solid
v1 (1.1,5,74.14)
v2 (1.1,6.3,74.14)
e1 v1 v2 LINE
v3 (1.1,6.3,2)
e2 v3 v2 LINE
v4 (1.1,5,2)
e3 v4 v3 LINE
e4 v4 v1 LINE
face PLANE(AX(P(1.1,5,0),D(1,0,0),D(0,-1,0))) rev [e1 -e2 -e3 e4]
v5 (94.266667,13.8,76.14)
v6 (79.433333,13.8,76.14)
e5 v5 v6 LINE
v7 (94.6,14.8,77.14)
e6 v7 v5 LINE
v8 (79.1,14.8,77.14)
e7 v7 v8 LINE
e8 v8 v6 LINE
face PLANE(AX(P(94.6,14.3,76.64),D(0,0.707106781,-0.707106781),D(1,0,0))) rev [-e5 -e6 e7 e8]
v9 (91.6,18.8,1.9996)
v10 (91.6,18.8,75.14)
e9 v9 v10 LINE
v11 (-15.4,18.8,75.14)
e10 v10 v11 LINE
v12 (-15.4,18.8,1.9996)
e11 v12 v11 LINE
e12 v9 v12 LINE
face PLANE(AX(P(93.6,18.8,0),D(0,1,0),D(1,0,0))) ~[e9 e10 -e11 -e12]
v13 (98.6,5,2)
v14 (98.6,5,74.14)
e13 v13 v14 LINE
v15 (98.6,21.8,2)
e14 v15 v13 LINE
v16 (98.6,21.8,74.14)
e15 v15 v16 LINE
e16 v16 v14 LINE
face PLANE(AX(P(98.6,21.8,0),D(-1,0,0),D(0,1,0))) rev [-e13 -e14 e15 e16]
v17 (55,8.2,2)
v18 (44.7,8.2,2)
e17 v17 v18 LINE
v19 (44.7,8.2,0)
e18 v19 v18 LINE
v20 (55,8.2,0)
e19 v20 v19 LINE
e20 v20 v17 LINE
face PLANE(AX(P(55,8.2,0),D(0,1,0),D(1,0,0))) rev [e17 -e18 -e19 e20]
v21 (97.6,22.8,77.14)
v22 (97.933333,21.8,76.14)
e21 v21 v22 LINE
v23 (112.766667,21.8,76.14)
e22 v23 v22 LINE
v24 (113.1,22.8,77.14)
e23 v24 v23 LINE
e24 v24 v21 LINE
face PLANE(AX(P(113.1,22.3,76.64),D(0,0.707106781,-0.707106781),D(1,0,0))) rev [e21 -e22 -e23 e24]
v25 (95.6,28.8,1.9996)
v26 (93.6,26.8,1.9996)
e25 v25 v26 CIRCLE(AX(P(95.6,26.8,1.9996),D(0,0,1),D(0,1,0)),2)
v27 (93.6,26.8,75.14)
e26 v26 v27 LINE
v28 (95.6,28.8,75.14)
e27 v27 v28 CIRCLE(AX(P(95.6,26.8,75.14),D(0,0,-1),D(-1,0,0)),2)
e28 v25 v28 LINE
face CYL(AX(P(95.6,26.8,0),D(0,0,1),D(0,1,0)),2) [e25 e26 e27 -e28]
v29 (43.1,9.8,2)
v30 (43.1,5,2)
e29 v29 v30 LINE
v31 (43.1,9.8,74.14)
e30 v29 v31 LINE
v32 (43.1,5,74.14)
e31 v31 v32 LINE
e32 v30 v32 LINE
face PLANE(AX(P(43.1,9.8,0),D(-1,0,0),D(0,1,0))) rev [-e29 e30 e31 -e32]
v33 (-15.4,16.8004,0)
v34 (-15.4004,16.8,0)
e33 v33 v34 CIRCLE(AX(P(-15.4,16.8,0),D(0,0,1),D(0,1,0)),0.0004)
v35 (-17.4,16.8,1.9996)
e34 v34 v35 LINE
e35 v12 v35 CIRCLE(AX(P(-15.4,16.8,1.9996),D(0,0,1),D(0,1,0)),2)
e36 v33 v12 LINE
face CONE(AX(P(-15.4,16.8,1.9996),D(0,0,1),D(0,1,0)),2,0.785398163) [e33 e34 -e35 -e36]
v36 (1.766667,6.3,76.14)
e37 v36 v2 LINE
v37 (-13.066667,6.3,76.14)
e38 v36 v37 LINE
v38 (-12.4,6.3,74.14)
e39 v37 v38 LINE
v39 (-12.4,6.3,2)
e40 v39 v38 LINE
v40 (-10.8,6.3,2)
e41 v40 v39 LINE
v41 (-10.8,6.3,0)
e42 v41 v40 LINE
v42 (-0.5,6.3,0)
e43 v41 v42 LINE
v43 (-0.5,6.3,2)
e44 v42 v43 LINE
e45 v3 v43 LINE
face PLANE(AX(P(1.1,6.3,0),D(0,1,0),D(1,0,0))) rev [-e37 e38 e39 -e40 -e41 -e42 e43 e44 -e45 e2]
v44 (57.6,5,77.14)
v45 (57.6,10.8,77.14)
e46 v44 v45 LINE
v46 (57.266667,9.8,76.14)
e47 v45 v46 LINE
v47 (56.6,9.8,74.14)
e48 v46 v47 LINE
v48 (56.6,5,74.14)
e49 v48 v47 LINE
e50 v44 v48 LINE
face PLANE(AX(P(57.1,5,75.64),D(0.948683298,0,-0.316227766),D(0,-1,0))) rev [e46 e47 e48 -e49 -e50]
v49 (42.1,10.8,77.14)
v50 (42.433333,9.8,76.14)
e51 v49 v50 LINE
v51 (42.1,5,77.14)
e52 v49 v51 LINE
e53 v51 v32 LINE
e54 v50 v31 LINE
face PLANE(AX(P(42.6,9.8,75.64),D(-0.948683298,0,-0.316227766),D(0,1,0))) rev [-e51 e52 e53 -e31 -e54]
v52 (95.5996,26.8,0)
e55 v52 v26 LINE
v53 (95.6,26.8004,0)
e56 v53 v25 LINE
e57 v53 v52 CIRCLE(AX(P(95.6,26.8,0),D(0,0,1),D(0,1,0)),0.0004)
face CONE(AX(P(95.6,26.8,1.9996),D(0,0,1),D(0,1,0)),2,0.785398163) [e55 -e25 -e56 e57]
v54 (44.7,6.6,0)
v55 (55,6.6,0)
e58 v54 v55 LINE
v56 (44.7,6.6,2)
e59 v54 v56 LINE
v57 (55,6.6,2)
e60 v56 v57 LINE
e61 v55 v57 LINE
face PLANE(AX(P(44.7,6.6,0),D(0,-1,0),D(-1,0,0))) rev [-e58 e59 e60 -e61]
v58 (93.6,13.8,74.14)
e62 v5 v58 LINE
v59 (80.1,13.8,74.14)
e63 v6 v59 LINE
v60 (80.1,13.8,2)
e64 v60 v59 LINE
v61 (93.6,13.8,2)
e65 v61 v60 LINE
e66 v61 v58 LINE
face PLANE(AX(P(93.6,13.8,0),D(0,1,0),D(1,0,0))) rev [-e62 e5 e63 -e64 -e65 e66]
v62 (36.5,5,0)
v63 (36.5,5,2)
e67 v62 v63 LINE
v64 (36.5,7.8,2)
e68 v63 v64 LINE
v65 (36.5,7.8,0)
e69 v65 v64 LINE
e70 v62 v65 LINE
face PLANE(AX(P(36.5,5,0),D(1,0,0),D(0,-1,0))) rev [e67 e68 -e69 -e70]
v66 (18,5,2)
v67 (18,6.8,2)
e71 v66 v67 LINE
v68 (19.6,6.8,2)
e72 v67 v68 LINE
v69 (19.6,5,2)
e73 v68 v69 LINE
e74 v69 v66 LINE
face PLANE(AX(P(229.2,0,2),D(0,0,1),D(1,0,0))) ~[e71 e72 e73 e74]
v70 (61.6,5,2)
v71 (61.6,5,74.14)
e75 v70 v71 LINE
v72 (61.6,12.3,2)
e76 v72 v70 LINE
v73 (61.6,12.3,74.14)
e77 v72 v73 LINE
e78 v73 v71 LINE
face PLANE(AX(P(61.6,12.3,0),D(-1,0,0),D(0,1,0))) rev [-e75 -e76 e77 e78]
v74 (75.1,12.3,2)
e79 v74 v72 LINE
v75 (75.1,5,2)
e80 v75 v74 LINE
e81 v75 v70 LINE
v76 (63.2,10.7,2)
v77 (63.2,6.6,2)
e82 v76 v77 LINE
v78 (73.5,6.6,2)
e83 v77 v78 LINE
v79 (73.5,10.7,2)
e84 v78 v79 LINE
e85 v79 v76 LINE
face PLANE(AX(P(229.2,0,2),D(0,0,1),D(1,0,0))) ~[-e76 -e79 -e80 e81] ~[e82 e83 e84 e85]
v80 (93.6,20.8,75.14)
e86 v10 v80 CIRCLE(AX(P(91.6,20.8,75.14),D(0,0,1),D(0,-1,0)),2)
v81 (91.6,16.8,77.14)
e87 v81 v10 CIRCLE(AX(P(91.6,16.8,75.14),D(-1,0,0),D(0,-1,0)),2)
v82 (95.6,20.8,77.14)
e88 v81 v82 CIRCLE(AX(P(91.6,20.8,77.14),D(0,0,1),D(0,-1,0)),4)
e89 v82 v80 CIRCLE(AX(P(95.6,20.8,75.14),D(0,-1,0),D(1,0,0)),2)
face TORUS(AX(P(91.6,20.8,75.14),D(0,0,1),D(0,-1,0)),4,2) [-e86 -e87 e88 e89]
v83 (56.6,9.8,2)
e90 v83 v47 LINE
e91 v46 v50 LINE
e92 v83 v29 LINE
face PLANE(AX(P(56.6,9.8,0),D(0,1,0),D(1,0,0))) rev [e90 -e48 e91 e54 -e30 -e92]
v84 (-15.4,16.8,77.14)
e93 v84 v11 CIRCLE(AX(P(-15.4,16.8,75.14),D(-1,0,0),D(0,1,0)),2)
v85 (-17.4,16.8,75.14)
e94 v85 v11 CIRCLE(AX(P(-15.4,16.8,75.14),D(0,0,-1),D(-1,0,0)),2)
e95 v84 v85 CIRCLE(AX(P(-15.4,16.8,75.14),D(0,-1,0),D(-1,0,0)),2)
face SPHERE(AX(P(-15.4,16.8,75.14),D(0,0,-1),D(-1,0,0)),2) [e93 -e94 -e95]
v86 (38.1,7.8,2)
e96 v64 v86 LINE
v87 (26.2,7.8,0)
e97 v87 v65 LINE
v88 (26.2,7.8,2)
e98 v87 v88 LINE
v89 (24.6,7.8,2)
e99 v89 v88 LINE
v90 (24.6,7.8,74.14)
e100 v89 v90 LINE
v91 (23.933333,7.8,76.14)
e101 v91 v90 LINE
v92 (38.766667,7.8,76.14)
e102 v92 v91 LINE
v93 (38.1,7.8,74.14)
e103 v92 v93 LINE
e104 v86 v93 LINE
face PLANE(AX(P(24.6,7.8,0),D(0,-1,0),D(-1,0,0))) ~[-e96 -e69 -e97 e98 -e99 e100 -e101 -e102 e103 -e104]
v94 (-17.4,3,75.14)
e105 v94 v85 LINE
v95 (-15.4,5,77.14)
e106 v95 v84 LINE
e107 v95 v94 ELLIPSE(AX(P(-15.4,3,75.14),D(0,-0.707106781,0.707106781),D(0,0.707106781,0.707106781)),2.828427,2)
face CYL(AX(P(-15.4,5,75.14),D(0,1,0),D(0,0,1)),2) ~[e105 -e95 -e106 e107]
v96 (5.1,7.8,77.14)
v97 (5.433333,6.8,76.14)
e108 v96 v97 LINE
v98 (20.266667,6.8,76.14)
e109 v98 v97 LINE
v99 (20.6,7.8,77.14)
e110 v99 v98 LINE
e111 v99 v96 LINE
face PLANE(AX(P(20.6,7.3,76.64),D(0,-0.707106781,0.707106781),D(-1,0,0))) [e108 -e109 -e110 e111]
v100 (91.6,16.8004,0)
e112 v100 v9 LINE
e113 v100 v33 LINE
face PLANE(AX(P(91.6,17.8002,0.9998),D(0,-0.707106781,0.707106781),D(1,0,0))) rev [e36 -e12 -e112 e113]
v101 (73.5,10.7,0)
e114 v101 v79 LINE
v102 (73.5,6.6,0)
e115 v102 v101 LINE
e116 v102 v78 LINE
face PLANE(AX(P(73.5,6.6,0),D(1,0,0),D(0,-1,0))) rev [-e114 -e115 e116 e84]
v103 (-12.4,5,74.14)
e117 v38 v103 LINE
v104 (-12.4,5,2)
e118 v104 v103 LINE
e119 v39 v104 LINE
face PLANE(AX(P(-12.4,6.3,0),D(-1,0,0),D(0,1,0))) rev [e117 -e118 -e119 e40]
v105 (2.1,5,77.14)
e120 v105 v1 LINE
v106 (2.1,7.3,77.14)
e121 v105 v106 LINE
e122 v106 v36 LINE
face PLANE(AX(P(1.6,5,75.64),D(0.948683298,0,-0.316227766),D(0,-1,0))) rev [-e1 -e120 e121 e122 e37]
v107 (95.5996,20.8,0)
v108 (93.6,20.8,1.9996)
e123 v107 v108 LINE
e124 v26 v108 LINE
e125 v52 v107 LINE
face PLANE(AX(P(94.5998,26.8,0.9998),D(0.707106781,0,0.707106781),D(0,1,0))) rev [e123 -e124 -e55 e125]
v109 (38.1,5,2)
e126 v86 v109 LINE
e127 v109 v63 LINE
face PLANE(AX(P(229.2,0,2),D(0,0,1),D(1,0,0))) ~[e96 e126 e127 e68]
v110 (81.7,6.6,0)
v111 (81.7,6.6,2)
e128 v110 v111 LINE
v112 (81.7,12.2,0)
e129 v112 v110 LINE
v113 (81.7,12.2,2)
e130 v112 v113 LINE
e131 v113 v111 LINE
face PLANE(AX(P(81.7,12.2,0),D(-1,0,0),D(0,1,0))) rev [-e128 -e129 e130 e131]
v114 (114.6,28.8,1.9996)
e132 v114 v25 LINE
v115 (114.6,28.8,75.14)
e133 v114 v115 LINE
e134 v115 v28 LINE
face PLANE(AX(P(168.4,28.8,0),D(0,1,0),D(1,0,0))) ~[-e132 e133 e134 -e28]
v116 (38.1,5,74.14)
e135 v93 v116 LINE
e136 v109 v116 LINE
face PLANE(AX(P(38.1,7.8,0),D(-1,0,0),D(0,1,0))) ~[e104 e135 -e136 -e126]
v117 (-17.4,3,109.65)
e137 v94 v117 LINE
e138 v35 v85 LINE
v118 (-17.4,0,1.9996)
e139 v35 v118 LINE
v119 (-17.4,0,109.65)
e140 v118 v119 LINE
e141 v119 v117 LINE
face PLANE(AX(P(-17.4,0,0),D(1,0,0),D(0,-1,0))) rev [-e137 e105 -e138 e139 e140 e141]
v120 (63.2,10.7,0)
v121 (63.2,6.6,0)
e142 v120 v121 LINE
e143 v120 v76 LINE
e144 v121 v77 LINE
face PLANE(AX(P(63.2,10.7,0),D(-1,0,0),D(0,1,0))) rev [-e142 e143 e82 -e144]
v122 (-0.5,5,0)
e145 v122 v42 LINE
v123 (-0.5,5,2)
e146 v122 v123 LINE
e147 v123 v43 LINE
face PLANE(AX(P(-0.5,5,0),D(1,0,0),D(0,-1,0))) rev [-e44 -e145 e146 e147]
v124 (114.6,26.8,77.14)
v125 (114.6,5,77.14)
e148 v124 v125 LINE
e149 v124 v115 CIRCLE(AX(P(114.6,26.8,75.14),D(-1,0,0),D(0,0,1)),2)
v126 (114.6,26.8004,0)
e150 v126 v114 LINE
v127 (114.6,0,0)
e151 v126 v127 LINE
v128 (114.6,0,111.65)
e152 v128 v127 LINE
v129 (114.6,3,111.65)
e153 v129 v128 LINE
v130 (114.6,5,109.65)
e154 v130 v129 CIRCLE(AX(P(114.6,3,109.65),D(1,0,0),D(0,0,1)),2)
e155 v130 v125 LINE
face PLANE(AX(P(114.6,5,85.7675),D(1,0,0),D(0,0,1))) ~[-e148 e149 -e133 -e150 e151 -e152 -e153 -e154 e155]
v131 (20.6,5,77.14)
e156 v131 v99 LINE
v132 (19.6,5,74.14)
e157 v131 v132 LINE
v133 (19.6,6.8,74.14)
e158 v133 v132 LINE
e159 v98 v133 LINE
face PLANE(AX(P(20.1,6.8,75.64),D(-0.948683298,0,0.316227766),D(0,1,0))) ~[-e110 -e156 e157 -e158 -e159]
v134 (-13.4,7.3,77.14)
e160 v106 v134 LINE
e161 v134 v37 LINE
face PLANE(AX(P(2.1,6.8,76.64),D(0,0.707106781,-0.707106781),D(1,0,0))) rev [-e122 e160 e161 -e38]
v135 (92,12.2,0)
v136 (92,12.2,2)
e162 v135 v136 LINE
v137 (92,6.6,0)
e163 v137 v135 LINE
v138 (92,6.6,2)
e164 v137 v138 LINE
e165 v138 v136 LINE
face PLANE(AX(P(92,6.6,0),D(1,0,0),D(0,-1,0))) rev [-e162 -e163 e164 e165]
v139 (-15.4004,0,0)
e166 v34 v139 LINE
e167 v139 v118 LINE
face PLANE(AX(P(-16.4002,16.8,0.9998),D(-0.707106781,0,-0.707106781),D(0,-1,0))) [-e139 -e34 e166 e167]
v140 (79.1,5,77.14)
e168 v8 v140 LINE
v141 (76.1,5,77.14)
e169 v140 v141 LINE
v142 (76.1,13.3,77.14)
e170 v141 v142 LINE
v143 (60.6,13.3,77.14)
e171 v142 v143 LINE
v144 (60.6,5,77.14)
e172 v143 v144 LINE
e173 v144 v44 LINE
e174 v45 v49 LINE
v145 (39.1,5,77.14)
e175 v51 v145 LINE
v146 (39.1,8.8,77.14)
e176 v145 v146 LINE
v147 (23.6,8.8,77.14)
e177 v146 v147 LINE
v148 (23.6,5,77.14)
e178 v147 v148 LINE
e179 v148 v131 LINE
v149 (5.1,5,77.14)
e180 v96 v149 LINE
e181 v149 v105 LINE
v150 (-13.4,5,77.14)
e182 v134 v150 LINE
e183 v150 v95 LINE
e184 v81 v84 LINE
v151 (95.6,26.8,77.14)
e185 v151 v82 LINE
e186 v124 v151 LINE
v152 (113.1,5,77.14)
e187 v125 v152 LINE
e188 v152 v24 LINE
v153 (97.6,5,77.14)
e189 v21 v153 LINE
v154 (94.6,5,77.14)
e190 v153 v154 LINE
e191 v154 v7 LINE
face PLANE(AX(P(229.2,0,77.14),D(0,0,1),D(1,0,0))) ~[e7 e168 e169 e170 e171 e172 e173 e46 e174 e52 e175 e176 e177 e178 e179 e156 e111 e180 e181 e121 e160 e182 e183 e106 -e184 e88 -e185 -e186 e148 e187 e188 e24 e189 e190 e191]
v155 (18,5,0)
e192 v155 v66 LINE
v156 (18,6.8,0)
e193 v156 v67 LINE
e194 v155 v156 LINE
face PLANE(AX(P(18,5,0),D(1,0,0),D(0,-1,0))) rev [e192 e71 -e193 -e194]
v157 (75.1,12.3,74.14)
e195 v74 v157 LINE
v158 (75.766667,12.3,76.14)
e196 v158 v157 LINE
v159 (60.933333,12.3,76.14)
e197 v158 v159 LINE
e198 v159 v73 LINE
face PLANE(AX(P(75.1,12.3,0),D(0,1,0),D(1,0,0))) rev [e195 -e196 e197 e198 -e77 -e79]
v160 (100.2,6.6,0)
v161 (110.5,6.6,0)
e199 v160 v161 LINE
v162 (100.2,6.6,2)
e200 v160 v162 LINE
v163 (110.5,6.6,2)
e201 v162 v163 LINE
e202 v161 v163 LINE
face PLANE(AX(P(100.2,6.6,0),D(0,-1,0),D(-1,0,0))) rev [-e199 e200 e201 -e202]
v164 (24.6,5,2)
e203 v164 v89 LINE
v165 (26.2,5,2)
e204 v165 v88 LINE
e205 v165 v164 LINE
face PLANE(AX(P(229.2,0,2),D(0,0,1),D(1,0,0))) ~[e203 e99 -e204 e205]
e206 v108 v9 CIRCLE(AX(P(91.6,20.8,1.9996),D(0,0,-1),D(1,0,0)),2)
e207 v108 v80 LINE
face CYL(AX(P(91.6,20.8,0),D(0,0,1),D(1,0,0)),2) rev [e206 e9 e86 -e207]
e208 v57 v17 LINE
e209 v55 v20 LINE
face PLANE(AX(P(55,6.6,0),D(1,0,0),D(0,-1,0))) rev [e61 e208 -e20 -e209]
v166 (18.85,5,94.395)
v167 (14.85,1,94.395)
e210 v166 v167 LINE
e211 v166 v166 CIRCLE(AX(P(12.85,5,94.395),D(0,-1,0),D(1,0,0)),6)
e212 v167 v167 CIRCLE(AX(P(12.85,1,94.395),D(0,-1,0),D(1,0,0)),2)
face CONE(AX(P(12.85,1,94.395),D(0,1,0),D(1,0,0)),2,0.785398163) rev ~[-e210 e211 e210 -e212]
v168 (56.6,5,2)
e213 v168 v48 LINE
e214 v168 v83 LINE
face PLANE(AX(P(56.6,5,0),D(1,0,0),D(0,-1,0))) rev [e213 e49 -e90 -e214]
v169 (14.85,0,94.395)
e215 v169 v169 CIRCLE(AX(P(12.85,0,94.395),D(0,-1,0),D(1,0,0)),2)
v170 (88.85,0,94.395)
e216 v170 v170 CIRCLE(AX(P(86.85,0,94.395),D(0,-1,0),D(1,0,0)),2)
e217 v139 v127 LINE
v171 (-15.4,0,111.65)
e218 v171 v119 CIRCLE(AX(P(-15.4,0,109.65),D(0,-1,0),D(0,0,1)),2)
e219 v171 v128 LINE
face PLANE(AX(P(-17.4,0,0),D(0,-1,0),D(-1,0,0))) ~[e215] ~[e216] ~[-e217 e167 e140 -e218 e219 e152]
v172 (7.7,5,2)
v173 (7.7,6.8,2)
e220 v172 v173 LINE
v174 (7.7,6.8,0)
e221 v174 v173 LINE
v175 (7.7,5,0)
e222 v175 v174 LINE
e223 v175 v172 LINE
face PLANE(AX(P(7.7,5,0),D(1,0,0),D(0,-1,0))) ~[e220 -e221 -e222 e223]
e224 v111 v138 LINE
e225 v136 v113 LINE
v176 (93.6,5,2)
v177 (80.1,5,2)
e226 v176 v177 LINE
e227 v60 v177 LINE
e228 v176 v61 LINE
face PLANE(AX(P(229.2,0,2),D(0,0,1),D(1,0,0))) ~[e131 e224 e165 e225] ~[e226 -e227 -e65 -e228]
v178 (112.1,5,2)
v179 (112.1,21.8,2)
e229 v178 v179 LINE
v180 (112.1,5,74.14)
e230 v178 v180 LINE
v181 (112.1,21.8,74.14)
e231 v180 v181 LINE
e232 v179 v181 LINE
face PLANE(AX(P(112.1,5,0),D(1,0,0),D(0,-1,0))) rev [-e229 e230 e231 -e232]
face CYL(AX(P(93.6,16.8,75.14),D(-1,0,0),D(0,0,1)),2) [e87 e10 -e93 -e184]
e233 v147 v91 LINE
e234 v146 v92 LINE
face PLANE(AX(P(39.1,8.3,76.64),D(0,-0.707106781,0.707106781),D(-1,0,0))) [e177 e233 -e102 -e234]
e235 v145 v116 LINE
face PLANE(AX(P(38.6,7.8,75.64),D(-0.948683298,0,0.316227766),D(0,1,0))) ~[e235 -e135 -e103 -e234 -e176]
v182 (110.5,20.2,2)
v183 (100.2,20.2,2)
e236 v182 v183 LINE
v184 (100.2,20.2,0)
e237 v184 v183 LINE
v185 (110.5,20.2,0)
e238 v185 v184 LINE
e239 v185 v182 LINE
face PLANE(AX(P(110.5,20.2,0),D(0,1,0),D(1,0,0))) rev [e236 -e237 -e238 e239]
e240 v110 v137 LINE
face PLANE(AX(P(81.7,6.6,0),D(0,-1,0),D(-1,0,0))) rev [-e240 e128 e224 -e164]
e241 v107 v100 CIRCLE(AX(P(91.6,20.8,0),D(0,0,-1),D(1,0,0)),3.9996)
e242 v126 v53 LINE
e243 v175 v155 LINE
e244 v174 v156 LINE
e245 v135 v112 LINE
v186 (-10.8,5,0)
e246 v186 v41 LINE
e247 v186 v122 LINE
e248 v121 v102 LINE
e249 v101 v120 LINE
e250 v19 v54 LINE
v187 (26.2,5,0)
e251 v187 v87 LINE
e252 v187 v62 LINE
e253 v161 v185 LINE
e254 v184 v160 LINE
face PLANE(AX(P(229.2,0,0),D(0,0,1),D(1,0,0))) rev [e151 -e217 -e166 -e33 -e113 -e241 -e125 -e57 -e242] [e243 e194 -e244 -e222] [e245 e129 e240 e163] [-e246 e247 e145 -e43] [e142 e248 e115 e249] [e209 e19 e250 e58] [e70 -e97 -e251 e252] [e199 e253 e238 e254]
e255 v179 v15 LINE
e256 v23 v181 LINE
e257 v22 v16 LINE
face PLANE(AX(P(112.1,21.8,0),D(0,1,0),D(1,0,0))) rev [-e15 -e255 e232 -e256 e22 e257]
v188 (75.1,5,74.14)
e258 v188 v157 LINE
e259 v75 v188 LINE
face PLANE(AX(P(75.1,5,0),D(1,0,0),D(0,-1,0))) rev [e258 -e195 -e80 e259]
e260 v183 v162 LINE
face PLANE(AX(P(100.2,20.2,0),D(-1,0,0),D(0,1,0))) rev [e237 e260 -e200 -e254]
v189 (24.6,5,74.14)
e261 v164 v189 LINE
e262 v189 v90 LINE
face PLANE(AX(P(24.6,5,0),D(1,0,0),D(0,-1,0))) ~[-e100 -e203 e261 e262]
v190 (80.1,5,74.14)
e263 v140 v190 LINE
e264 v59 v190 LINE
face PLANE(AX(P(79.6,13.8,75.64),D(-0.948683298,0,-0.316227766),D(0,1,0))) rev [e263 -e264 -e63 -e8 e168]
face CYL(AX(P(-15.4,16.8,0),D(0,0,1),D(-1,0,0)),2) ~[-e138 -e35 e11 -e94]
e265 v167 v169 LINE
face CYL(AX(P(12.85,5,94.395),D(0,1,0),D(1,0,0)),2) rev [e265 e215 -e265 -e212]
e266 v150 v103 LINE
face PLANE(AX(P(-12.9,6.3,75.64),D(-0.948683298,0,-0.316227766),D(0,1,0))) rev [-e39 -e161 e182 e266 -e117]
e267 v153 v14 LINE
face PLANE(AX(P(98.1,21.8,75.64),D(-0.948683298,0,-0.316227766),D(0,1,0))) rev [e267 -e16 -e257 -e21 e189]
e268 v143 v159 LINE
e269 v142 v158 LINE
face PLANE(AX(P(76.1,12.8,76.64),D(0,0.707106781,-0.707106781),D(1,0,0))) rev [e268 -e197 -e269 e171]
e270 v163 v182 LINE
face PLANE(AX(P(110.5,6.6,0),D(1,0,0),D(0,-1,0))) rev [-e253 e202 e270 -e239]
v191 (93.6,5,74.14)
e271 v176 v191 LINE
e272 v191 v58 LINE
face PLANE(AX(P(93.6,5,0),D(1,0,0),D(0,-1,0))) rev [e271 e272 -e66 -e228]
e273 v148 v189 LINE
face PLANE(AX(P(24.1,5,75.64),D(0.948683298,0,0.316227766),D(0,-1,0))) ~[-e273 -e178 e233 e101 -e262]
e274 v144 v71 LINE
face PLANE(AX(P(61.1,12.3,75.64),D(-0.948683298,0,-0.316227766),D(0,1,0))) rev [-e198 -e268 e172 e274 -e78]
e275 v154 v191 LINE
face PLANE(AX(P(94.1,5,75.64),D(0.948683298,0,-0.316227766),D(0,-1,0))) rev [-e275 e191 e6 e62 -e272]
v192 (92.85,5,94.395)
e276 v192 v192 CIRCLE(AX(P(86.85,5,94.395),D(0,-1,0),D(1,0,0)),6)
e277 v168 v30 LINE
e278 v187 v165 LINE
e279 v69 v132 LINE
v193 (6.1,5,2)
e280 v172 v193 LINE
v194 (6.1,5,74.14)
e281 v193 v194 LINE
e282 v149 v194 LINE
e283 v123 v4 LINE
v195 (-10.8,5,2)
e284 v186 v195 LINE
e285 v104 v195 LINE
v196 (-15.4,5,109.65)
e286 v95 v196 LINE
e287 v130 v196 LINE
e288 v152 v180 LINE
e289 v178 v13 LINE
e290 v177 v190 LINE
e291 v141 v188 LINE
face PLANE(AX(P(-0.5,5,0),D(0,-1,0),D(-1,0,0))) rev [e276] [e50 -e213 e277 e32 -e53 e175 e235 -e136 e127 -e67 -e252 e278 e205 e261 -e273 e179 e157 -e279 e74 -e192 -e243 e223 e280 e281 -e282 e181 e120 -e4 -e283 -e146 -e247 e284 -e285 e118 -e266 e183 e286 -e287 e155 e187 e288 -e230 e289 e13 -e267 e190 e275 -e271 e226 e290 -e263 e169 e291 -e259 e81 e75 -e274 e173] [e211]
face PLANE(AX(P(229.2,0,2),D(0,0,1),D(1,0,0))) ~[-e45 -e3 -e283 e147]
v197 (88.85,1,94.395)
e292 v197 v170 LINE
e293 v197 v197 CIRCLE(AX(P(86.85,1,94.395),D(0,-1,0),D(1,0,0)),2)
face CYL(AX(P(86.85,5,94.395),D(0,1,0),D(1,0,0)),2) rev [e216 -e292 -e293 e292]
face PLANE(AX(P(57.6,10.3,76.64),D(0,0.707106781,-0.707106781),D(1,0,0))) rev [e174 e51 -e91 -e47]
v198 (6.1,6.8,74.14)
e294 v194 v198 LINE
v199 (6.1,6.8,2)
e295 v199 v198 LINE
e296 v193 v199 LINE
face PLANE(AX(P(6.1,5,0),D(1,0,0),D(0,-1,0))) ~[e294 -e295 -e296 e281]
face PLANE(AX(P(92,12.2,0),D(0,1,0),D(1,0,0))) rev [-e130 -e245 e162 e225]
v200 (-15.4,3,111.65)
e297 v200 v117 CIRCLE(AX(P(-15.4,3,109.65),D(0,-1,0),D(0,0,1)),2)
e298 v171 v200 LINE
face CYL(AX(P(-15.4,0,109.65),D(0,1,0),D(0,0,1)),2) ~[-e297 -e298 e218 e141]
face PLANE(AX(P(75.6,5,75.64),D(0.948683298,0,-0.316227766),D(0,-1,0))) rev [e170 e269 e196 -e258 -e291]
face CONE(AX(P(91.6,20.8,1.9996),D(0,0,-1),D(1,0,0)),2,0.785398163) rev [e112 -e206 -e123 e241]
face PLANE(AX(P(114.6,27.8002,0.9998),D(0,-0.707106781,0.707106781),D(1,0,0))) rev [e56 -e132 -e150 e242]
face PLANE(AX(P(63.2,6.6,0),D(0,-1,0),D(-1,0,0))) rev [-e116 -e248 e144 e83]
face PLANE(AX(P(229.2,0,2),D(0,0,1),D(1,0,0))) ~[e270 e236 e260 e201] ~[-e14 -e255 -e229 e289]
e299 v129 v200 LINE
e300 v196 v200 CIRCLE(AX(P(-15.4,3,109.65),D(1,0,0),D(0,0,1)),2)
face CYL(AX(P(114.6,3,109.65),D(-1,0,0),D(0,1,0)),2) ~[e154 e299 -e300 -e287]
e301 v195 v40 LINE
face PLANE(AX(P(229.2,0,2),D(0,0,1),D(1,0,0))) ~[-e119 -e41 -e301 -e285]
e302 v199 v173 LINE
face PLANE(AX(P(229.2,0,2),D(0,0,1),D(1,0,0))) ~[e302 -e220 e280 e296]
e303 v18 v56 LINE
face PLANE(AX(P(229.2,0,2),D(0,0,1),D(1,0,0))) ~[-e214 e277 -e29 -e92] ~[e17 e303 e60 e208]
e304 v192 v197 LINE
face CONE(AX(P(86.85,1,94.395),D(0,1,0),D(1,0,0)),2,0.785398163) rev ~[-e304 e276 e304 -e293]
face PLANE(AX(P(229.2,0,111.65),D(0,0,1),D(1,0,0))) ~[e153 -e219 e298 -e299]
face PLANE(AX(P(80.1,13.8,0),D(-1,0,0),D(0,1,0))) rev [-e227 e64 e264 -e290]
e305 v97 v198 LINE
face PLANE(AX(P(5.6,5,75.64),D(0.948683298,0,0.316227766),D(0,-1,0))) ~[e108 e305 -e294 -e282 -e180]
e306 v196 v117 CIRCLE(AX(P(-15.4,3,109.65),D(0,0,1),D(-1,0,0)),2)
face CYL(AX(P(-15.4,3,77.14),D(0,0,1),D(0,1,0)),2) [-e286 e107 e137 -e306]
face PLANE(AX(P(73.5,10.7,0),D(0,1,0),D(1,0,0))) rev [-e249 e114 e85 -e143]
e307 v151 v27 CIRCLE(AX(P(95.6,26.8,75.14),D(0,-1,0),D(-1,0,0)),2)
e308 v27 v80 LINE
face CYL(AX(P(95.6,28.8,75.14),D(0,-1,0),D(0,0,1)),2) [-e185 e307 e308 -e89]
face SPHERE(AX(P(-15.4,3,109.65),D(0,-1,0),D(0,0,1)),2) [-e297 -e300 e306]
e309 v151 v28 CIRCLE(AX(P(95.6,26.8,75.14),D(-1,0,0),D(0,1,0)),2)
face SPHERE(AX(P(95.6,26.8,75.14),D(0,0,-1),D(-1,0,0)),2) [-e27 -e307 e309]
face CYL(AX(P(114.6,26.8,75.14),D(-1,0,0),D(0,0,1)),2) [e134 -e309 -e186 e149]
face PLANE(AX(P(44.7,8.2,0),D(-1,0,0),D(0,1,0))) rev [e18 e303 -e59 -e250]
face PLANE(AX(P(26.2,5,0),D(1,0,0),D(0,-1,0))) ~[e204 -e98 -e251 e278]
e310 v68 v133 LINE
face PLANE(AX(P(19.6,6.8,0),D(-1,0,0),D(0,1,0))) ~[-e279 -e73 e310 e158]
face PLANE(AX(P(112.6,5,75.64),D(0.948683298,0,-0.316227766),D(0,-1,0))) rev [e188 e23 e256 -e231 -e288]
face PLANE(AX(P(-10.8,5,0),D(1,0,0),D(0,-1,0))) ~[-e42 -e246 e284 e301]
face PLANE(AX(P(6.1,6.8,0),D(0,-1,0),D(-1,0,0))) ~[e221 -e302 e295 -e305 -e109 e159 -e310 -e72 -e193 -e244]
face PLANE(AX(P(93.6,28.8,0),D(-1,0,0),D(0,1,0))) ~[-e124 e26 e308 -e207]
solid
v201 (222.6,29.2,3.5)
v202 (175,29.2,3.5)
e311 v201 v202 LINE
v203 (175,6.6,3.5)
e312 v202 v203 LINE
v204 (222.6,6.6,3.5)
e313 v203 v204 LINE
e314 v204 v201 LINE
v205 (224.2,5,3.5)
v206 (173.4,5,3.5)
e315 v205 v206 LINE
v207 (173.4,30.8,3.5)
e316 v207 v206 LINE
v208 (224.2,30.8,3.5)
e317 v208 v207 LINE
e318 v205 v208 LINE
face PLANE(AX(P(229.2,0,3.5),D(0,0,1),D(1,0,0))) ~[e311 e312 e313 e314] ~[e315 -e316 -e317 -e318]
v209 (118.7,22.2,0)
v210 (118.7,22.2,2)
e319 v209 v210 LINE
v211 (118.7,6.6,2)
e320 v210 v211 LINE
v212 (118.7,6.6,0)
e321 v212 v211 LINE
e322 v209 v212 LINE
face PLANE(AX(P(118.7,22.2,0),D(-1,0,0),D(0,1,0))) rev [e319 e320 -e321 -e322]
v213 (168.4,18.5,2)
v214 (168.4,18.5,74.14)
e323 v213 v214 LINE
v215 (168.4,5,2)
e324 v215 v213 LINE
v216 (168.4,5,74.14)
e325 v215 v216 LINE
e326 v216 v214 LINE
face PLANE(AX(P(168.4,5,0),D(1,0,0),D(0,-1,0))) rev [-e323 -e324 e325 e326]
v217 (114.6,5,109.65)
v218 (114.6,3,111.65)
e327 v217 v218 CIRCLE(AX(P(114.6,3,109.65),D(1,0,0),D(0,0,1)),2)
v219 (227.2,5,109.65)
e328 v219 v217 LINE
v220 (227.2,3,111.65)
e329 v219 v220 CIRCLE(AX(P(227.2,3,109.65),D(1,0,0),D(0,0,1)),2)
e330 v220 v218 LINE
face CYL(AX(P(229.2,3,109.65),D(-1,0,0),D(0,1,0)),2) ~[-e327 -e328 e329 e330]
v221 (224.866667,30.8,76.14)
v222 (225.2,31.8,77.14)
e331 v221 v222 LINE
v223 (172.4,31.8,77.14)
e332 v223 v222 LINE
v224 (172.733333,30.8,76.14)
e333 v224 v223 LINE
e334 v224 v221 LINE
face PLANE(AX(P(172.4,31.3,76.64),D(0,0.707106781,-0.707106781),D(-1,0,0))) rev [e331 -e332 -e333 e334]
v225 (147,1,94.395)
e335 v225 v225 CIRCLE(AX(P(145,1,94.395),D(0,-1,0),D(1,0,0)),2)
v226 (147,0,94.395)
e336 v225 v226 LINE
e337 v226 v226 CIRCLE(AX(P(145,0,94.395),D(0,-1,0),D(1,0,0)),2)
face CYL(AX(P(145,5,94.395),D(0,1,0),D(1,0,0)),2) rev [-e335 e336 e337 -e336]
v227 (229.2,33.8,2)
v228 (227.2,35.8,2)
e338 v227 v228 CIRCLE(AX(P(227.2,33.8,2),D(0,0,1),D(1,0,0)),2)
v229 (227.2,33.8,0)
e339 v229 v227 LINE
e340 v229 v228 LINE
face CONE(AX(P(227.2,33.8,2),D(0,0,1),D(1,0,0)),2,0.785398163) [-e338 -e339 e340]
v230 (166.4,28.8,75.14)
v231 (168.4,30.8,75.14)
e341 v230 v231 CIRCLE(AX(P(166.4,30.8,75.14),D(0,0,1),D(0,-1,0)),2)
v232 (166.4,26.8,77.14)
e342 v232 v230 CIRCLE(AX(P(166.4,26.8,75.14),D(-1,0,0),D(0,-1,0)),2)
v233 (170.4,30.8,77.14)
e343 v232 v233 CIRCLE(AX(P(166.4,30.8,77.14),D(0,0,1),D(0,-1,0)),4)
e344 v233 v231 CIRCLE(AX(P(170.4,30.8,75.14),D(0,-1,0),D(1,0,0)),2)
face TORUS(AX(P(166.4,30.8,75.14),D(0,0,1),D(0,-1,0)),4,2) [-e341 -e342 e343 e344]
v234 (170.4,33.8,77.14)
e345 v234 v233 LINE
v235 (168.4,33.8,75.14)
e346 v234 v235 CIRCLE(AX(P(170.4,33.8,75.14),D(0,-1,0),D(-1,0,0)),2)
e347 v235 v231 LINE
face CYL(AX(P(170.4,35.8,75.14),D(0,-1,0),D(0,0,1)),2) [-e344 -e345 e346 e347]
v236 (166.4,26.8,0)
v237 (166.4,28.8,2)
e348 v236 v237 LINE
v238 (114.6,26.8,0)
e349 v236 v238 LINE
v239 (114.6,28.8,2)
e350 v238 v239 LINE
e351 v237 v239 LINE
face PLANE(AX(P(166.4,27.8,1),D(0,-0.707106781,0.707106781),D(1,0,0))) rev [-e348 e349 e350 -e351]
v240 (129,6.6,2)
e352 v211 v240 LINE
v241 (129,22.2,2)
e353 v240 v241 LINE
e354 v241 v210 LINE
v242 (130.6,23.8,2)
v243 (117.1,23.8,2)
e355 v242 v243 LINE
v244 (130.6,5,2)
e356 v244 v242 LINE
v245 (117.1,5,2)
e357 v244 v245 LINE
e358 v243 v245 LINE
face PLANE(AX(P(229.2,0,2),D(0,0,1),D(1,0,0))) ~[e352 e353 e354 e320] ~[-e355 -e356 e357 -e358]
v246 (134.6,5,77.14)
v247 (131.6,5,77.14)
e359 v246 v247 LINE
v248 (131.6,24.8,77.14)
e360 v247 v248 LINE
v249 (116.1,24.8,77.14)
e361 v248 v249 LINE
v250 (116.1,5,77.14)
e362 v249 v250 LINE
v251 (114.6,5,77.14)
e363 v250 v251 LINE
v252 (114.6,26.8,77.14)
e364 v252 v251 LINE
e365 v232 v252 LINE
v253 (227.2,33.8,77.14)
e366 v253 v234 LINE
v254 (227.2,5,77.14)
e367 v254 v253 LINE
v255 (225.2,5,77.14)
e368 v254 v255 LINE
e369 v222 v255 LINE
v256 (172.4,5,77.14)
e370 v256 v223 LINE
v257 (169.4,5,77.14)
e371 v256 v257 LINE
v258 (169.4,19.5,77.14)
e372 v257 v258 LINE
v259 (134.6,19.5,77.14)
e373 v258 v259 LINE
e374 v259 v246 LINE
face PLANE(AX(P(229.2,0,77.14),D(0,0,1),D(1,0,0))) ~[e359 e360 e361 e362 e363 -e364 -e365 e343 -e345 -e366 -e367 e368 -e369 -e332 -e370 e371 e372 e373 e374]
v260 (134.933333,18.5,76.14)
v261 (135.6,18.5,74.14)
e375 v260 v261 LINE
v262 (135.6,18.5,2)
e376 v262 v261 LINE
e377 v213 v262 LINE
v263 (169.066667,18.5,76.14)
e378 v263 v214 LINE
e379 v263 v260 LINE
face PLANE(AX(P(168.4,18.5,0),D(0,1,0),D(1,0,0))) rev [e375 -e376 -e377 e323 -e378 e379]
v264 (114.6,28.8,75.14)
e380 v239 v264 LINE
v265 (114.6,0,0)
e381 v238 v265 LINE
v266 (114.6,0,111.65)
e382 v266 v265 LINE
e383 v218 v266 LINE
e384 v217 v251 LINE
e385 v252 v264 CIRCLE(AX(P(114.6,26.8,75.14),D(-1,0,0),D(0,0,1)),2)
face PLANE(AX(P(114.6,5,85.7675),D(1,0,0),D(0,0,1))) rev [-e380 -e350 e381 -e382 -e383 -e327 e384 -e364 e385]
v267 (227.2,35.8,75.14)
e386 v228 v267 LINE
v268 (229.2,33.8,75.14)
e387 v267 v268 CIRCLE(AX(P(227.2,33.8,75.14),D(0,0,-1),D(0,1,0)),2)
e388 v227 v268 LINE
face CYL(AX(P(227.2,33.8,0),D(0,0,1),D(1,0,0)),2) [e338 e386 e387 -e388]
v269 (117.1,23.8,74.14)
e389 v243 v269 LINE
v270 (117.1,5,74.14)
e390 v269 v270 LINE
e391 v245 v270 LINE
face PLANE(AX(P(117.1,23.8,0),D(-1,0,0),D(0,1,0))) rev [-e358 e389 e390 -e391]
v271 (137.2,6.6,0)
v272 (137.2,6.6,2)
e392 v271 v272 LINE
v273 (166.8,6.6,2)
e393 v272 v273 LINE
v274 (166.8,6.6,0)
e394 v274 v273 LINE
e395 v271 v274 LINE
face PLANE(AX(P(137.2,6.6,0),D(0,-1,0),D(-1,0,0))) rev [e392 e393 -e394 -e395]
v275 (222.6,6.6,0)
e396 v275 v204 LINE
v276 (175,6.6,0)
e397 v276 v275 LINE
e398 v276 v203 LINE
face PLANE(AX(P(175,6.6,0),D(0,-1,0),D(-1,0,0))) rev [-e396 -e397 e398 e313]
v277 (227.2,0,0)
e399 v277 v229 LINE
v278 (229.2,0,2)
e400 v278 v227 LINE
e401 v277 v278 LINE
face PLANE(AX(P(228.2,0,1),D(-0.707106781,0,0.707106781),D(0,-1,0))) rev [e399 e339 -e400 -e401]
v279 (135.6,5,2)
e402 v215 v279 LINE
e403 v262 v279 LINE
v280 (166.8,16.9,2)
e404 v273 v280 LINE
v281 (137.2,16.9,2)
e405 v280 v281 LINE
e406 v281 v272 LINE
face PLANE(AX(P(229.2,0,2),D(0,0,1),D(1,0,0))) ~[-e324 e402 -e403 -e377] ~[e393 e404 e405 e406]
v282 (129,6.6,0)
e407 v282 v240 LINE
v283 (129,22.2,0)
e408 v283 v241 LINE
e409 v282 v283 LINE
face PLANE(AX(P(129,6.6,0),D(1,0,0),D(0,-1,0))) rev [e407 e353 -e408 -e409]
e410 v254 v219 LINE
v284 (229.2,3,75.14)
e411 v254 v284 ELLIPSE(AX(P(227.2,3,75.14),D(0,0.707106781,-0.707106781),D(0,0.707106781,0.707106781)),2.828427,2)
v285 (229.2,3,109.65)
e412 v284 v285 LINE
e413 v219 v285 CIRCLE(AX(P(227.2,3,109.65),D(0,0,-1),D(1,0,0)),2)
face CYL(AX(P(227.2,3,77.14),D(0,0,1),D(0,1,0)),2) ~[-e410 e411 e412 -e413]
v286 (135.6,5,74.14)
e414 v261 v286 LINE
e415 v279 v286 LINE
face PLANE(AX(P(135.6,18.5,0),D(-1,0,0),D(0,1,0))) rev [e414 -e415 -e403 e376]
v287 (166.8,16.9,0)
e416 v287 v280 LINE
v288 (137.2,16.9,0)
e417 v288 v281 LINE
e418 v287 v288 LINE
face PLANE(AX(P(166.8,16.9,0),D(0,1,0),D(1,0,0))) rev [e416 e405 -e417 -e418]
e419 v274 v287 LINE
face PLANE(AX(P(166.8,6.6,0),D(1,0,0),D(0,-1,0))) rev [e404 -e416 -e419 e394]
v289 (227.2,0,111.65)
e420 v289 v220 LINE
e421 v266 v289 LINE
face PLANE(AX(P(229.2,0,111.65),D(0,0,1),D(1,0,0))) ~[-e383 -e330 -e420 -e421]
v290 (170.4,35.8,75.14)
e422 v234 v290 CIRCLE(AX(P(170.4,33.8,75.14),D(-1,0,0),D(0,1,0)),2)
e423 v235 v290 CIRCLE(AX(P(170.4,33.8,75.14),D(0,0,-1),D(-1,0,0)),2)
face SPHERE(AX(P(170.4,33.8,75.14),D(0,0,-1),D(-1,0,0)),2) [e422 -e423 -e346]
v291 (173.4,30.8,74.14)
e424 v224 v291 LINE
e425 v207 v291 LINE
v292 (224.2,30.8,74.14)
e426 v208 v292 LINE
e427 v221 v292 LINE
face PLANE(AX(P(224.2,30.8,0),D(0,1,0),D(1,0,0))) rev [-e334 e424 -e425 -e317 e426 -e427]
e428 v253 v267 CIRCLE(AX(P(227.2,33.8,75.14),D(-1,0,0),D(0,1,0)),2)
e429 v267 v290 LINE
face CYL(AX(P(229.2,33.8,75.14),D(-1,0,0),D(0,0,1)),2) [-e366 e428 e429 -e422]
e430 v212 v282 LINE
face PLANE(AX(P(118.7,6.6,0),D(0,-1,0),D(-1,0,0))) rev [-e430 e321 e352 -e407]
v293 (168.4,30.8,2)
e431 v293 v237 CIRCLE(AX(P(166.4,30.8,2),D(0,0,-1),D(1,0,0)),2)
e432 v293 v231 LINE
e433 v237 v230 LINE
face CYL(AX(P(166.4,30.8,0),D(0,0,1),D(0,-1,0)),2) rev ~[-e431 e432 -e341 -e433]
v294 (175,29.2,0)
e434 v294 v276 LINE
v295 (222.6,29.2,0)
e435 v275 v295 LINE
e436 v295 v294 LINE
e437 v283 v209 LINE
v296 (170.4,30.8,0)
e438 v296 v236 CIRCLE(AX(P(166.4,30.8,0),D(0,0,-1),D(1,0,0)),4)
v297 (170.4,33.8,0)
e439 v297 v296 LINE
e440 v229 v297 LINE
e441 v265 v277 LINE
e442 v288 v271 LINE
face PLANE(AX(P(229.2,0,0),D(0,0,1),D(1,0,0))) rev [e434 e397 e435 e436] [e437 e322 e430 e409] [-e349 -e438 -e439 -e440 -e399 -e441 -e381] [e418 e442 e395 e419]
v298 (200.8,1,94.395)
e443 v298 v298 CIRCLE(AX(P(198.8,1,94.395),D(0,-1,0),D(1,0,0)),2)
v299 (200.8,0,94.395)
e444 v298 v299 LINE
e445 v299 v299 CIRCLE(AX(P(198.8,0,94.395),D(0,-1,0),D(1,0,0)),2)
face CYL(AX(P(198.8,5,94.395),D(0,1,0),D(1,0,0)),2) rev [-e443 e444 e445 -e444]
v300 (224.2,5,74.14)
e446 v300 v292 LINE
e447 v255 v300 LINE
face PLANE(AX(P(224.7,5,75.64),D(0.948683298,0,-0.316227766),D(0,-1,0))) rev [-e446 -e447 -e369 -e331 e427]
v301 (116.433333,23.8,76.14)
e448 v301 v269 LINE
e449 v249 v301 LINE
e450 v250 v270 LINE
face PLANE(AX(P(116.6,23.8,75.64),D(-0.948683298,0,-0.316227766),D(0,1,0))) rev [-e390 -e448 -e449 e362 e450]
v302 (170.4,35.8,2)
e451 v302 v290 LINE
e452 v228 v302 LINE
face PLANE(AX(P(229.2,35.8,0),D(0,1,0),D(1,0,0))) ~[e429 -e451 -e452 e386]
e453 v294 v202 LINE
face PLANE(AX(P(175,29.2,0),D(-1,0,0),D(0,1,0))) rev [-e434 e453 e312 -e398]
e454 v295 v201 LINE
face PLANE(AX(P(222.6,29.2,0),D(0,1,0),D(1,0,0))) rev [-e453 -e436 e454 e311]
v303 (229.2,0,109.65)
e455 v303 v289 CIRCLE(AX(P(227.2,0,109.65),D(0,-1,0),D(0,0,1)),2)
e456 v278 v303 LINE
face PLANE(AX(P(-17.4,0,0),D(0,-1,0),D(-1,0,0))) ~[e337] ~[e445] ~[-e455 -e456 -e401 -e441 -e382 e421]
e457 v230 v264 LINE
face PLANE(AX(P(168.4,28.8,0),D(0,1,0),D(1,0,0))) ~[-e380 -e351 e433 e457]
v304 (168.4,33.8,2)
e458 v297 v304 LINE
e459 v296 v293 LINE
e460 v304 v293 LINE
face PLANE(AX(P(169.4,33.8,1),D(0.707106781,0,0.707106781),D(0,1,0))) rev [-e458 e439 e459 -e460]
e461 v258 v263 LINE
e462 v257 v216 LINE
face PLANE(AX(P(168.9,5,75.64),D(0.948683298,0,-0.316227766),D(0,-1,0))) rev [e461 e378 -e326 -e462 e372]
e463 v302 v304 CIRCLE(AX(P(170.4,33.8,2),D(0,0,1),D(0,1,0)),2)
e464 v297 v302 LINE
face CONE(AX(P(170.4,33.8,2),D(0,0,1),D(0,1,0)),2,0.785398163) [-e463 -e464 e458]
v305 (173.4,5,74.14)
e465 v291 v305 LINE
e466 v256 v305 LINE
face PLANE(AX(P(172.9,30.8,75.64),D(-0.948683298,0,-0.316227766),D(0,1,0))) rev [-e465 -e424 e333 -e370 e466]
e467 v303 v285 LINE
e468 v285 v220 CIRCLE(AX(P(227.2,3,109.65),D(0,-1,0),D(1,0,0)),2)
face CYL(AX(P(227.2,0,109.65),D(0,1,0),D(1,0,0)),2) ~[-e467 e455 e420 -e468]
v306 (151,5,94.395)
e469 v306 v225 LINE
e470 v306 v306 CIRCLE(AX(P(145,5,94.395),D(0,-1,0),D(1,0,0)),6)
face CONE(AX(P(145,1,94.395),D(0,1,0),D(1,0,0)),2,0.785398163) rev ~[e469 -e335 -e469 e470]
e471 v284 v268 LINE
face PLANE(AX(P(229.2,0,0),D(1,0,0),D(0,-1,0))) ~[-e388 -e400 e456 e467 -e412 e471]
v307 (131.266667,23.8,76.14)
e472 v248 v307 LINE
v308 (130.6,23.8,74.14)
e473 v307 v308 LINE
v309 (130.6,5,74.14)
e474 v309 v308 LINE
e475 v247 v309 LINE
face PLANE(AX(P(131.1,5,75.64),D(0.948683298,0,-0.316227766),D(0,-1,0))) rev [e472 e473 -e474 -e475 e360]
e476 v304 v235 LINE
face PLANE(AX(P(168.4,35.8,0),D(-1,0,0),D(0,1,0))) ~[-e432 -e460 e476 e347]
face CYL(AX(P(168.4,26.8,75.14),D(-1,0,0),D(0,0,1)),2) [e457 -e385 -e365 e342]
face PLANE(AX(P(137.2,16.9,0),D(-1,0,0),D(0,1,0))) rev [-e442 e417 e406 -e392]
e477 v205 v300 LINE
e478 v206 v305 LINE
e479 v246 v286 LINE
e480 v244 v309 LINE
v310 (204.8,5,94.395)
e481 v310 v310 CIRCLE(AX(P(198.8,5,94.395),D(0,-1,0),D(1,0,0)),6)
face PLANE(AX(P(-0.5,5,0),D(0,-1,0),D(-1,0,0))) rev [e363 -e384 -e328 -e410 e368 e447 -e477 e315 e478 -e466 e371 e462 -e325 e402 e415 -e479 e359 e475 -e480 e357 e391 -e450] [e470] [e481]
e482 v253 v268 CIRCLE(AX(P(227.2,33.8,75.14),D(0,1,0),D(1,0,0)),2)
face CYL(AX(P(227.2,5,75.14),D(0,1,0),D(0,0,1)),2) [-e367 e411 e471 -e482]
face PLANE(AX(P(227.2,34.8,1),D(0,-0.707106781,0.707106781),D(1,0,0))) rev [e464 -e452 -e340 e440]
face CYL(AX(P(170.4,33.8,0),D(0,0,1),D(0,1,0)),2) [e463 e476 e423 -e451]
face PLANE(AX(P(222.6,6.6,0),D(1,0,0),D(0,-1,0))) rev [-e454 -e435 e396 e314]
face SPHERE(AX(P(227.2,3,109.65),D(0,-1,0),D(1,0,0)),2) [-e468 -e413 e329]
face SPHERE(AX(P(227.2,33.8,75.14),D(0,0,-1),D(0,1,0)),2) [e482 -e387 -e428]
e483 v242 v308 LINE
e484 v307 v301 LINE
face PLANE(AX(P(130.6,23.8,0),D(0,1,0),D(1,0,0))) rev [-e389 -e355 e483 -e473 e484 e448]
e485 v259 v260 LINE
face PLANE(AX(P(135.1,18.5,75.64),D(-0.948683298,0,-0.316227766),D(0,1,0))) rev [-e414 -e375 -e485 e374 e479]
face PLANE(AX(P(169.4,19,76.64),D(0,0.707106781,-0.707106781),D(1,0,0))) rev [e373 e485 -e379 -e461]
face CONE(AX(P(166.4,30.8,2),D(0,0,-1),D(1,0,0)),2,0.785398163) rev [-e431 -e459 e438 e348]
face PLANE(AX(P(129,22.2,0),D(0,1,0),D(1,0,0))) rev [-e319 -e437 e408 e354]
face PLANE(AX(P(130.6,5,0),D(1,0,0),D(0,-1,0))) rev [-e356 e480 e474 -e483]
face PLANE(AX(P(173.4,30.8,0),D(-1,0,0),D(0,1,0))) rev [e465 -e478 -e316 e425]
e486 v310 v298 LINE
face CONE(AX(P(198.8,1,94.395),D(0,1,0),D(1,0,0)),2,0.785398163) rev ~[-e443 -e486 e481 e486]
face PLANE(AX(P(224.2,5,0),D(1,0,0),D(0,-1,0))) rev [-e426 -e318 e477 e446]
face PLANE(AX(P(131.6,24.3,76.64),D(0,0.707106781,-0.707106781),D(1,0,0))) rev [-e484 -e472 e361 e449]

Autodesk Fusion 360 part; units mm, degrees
sketch "Sketch1" plane through (0, 0, 0) normal (0, 0, 1) x (1, 0, 0)
  line L0 (228.1, 6.3) -> (241.6, 6.3)
  line L1 (241.6, 6.3) -> (241.6, 5)
  line L2 (241.6, 5) -> (228.1, 5)
  line L3 (228.1, 5) -> (228.1, 6.3)
  line L4 (0, 5) -> (241.5893, 5)
  line L5 (209.6, 5) -> (223.1, 5)
  line L6 (223.1, 5) -> (223.1, 6.8)
  line L7 (223.1, 6.8) -> (209.6, 6.8)
  line L8 (209.6, 6.8) -> (209.6, 5)
  line L9 (228.1, 5.65) -> (223.1, 5.65) construction
  line L10 (191.1, 5) -> (204.6, 5)
  line L11 (204.6, 5) -> (204.6, 7.8)
  line L12 (204.6, 7.8) -> (191.1, 7.8)
  line L13 (191.1, 7.8) -> (191.1, 5)
  line L14 (209.6, 5.9) -> (204.6, 5.9) construction
  line L15 (186.1, 5) -> (172.6, 5)
  line L16 (172.6, 5) -> (172.6, 9.8)
  line L17 (172.6, 9.8) -> (186.1, 9.8)
  line L18 (186.1, 9.8) -> (186.1, 5)
  line L19 (167.6, 5) -> (154.1, 5)
  line L20 (154.1, 5) -> (154.1, 12.3)
  line L21 (154.1, 12.3) -> (167.6, 12.3)
  line L22 (167.6, 12.3) -> (167.6, 5)
  line L23 (149.1, 5) -> (135.6, 5)
  line L24 (135.6, 5) -> (135.6, 13.8)
  line L25 (135.6, 13.8) -> (149.1, 13.8)
  line L26 (149.1, 13.8) -> (149.1, 5)
  line L27 (130.6, 5) -> (117.1, 5)
  line L28 (117.1, 5) -> (117.1, 21.8)
  line L29 (117.1, 21.8) -> (130.6, 21.8)
  line L30 (130.6, 21.8) -> (130.6, 5)
  line L31 (112.1, 5) -> (98.6, 5)
  line L32 (98.6, 5) -> (98.6, 23.8)
  line L33 (98.6, 23.8) -> (112.1, 23.8)
  line L34 (112.1, 23.8) -> (112.1, 5)
  line L35 (93.6, 5) -> (60.8, 5)
  line L36 (60.8, 5) -> (60.8, 18.5)
  line L37 (60.8, 18.5) -> (93.6, 18.5)
  line L38 (93.6, 18.5) -> (93.6, 5)
  line L39 (55.8, 5) -> (5, 5)
  line L40 (5, 5) -> (5, 30.8)
  line L41 (5, 30.8) -> (55.8, 30.8)
  line L42 (55.8, 30.8) -> (55.8, 5)
  line L43 (191.1, 6.4) -> (186.1, 6.4) construction
  line L44 (172.6, 7.4) -> (167.6, 7.4) construction
  line L45 (154.1, 8.65) -> (149.1, 8.65) construction
  line L46 (135.6, 9.4) -> (130.6, 9.4) construction
  line L47 (117.1, 13.4) -> (112.1, 13.4) construction
  line L48 (98.6, 14.4) -> (93.6, 14.4) construction
  line L49 (60.8, 11.75) -> (55.8, 11.75) construction
  line L50 (5, 17.9) -> (0, 17.9) construction
  line L51 (241.6, 5.65) -> (246.6, 5.65) construction
  line L52 (5, 5) -> (5, 0) construction
  line L53 (184.5, 6.6) -> (174.2, 6.6)
  line L54 (174.2, 6.6) -> (174.2, 8.2)
  line L55 (174.2, 8.2) -> (184.5, 8.2)
  line L56 (184.5, 8.2) -> (184.5, 6.6)
  line L57 (155.7, 6.6) -> (155.7, 10.7)
  line L58 (155.7, 10.7) -> (166, 10.7)
  line L59 (166, 10.7) -> (166, 6.6)
  line L60 (166, 6.6) -> (155.7, 6.6)
  line L61 (137.2, 6.6) -> (137.2, 12.2)
  line L62 (137.2, 12.2) -> (147.5, 12.2)
  line L63 (147.5, 12.2) -> (147.5, 6.6)
  line L64 (147.5, 6.6) -> (137.2, 6.6)
  line L65 (118.7, 6.6) -> (118.7, 20.2)
  line L66 (118.7, 20.2) -> (129, 20.2)
  line L67 (129, 20.2) -> (129, 6.6)
  line L68 (129, 6.6) -> (118.7, 6.6)
  line L69 (100.2, 6.6) -> (100.2, 22.2)
  line L70 (100.2, 22.2) -> (110.5, 22.2)
  line L71 (110.5, 22.2) -> (110.5, 6.6)
  line L72 (110.5, 6.6) -> (100.2, 6.6)
  line L73 (62.4, 6.6) -> (62.4, 16.9)
  line L74 (62.4, 16.9) -> (92, 16.9)
  line L75 (92, 16.9) -> (92, 6.6)
  line L76 (92, 6.6) -> (62.4, 6.6)
  line L77 (6.6, 6.6) -> (6.6, 29.2)
  line L78 (6.6, 29.2) -> (54.2, 29.2)
  line L79 (54.2, 29.2) -> (54.2, 6.6)
  line L80 (54.2, 6.6) -> (6.6, 6.6)
  line L81 (221.5, 5) -> (221.5, 6.8)
  line L82 (211.2, 5) -> (211.2, 6.8)
  line L83 (240, 5) -> (240, 6.3)
  line L84 (229.7, 5) -> (229.7, 6.3)
  line L85 (246.6, 0) -> (0, 0)
  line L86 (203, 5) -> (203, 7.8)
  line L87 (192.7, 5) -> (192.7, 7.8)
  line L88 (0, 0) -> (0, 35.8)
  line L89 (246.6, 0) -> (246.6, 18.8)
  line L90 (0, 35.8) -> (60.8, 35.8)
  line L91 (60.8, 35.8) -> (60.8, 28.8)
  line L92 (60.8, 28.8) -> (135.6, 28.8)
  line L93 (135.6, 28.8) -> (135.6, 18.8)
  line L94 (135.6, 18.8) -> (246.6, 18.8)
  line L95 (30.4, 30.8) -> (30.4, 35.8) construction
  line L96 (105.35, 23.8) -> (105.35, 28.8) construction
  line L97 (142.35, 13.8) -> (142.35, 18.8) construction
  line L98 (135.6, 18.8) -> (130.6, 18.8) construction
  line L99 (60.8, 28.8) -> (55.8, 28.8) construction
  line L100 (241.5893, 5) -> (246.6, 5)
  dimension "d4" = 13.5
  dimension "d5" = 1.3
  dimension "d6" = 1.8
  dimension "d7" = 5
  dimension "d8" = 2.8
  dimension "d9" = 4.8
  dimension "d10" = 7.3
  dimension "d11" = 8.8
  dimension "d12" = 16.8
  dimension "d13" = 18.8
  dimension "d14" = 32.8
  dimension "d15" = 25.8
  dimension "d16" = 50.8
  dimension "d24" = 1.6
  dimension "d25" = 1.6
  dimension "d26" = 1.6
  dimension "d27" = 1.6
  dimension "d28" = 1.6
  dimension "d29" = 1.6
  dimension "d30" = 1.6
  dimension "d31" = 1.6
  dimension "d32" = 1.6
  dimension "d33" = 1.6
  dimension "d34" = 1.6
  dimension "d63" = 1.6
  dimension "d64" = 1.6
extrude "Extrude1" add sketch "Sketch1" along normal blind 111.65 contours L2 L4 L5 L10 L15 L19 L23 L27 L31 L35 L39 L85 L88 L89 L100 makes body 1
extrude "Extrude2" add sketch "Sketch1" along normal blind 77.14 contours L0 L1 L3 L4 L6 L7 L8 L11 L12 L13 L16 L17 L18 L20 L21 L22 L24 L25 L26 L28 L29 L30 L32 L33 L34 L36 L37 L38 L40 L41 L42 L88 L89 L90 L91 L92 L93 L94 L100 bodies 1
sketch "Sketch2" plane through (0, 5, 0) normal (0, 1, 0) x (-1, 0, 0)
  line L0 (-241.6, 77.14) -> (-241.6, 0)
  line L1 (-204.6, 0) -> (-191.1, 0)
  line L2 (0, 111.65) -> (-246.6, 111.65)
  line L3 (-246.6, 94.395) -> (0, 94.395) construction
  circle A0 centre (-216.35, 94.395) radius 2
  circle A1 centre (-30.4, 94.395) radius 2
  line L4 (-114.6, 77.14) -> (-114.6, 94.395) construction
  circle A2 centre (-142.35, 94.395) radius 2
  line L5 (-216.35, 0) -> (-216.35, 94.395) construction
  line L6 (-142.35, 94.395) -> (-142.35, 0) construction
  line L7 (-30.4, 94.395) -> (-30.4, 0) construction
  circle A3 centre (-84.2, 94.395) radius 2
  line L8 (-98.6, 0) -> (-98.6, 77.14)
  line L9 (-112.1, 77.14) -> (-112.1, 0)
  line L10 (-135.6, 0) -> (-135.6, 77.14)
  line L11 (-149.1, 77.14) -> (-149.1, 0)
  line L12 (-60.8, 0) -> (-60.8, 77.14)
  line L13 (-93.6, 77.14) -> (-93.6, 0)
  line L14 (-117.1, 0) -> (-117.1, 77.14)
  line L15 (-130.6, 77.14) -> (-130.6, 0)
  line L16 (-172.6, 0) -> (-172.6, 77.14)
  line L17 (-186.1, 77.14) -> (-186.1, 0)
  line L18 (-5, 0) -> (-5, 77.14)
  line L19 (-55.8, 77.14) -> (-55.8, 0)
  line L20 (-209.6, 0) -> (-209.6, 77.14)
  line L21 (-223.1, 77.14) -> (-223.1, 0)
  line L22 (-191.1, 0) -> (-191.1, 77.14)
  line L23 (-204.6, 77.14) -> (-204.6, 0)
  line L24 (-154.1, 0) -> (-154.1, 77.14)
  line L25 (-167.6, 77.14) -> (-167.6, 0)
  line L26 (-209.6, 77.14) -> (-204.6, 77.14)
  line L27 (-191.1, 77.14) -> (-186.1, 77.14)
  line L28 (-186.1, 0) -> (-172.6, 0)
  line L29 (-172.6, 77.14) -> (-167.6, 77.14)
  line L30 (-167.6, 0) -> (-154.1, 0)
  line L31 (-154.1, 77.14) -> (-149.1, 77.14)
  line L32 (-149.1, 0) -> (-135.6, 0)
  line L33 (-135.6, 77.14) -> (-130.6, 77.14)
  line L34 (-130.6, 0) -> (-117.1, 0)
  line L35 (-117.1, 77.14) -> (-112.1, 77.14)
  line L36 (-112.1, 0) -> (-98.6, 0)
  line L37 (-98.6, 77.14) -> (-93.6, 77.14)
  line L38 (-93.6, 0) -> (-60.8, 0)
  line L39 (-60.8, 77.14) -> (-55.8, 77.14)
  line L40 (-55.8, 0) -> (-5, 0)
  line L41 (-5, 77.14) -> (0, 77.14)
  line L42 (0, 77.14) -> (0, 111.65)
  line L43 (-246.6, 111.65) -> (-246.6, 77.14)
  line L44 (-246.6, 77.14) -> (-241.6, 77.14)
  line L45 (-241.6, 0) -> (-228.1, 0)
  line L46 (-228.1, 0) -> (-228.1, 77.14)
  line L47 (-228.1, 77.14) -> (-223.1, 77.14)
  line L48 (-223.1, 0) -> (-209.6, 0)
  dimension "d55" = 4
  dimension "d60" = 30.4
  dimension "d61" = 30.4
extrude "Extrude3" add sketch "Sketch1" along normal blind 2 contours L0 L2 L3 L4 L84 | L0 L1 L2 L4 L83 L100 | L4 L5 L6 L7 L81 | L4 L5 L7 L8 L82 | L4 L10 L11 L12 L86 | L4 L10 L12 L13 L87 | L4 L15 L16 L17 L18 | L4 L35 L36 L37 L38 | L4 L19 L20 L21 L22 | L4 L31 L32 L33 L34 | L4 L23 L24 L25 L26 | L4 L27 L28 L29 L30 bodies 1
extrude "Extrude4" add sketch "Sketch1" along normal up to surface (3.5 mm away) contours L4 L39 L40 L41 L42 bodies 1
chamfer "Chamfer1" distance 1 distance2 3 20 edges at (241.6, 5.65, 77.14) (228.1, 5.65, 77.14) (223.1, 5.9, 77.14) (209.6, 5.9, 77.14) (204.6, 6.4, 77.14) (191.1, 6.4, 77.14) (186.1, 7.4, 77.14) (172.6, 7.4, 77.14) (167.6, 8.65, 77.14) (154.1, 8.65, 77.14) (149.1, 9.4, 77.14) (135.6, 9.4, 77.14) (130.6, 13.4, 77.14) (117.1, 13.4, 77.14) (112.1, 14.4, 77.14) (98.6, 14.4, 77.14) (93.6, 11.75, 77.14) (60.8, 11.75, 77.14) (55.8, 17.9, 77.14) (5, 17.9, 77.14) measured on face at (71.7333, 21.9333, 77.14) measured on face at (71.7333, 21.9333, 77.14) measured on face at (71.7333, 21.9333, 77.14) measured on face at (71.7333, 21.9333, 77.14) measured on face at (71.7333, 21.9333, 77.14) measured on face at (71.7333, 21.9333, 77.14) measured on face at (71.7333, 21.9333, 77.14) measured on face at (71.7333, 21.9333, 77.14) measured on face at (71.7333, 21.9333, 77.14) measured on face at (71.7333, 21.9333, 77.14) measured on face at (71.7333, 21.9333, 77.14) measured on face at (71.7333, 21.9333, 77.14) measured on face at (71.7333, 21.9333, 77.14) measured on face at (71.7333, 21.9333, 77.14) measured on face at (71.7333, 21.9333, 77.14) measured on face at (71.7333, 21.9333, 77.14) measured on face at (71.7333, 21.9333, 77.14) measured on face at (71.7333, 21.9333, 77.14) measured on face at (71.7333, 21.9333, 77.14) measured on face at (71.7333, 21.9333, 77.14) on bodies 1
chamfer "Chamfer2" distance 1 angle 45 10 edges at (234.85, 6.3, 77.14) (216.35, 6.8, 77.14) (197.85, 7.8, 77.14) (179.35, 9.8, 77.14) (160.85, 12.3, 77.14) (142.35, 13.8, 77.14) (123.85, 21.8, 77.14) (105.35, 23.8, 77.14) (77.2, 18.5, 77.14) (30.4, 30.8, 77.14) on bodies 1
extrude "Extrude6" cut sketch "Sketch2" against normal up to surface (5 mm away) contours A0 | A1 | A2 | A3 bodies 1
chamfer "Chamfer4" distance 4 angle 45 4 edges at (218.2147, 5, 95.1182) (144.2147, 5, 95.1182) (86.0647, 5, 95.1182) (32.2647, 5, 95.1182) on bodies 1
ref_plane "WorkPlane1" through (114.6, 5, 85.7675) normal (-1, 0, 0) x (0, 0, 1)
split "Split1" by plane through (114.6, 5, 85.7675) normal (-1, 0, 0) bodies 1 makes body 2 at (48.636, 0, 30.871)
fillet "Fillet4" radius 2 20 edges at (246.6, 2.5, 111.65) (246.6, 18.8, 38.57) (135.6, 28.8, 38.57) (135.6, 18.8, 38.57) (180.6, 5, 111.65) (246.6, 5, 94.395) (246.6, 11.9, 77.14) (191.1, 18.8, 77.14) (135.6, 23.8, 77.14) (125.1, 28.8, 77.14) (0, 2.5, 111.65) (60.8, 35.8, 38.57) (0, 35.8, 38.57) (0, 5, 94.395) (57.3, 5, 111.65) (87.7, 28.8, 77.14) (60.8, 32.3, 77.14) (30.4, 35.8, 77.14) (0, 20.4, 77.14) (60.8, 28.8, 38.57) on bodies 1 2
chamfer "Chamfer5" distance 2 angle 45 14 edges at (88.7, 28.8, 0) (0, 16.9, 0) (0.5858, 35.2142, 0) (30.4, 35.8, 0) (60.2142, 35.2142, 0) (60.8, 32.3, 0) (61.3858, 29.3858, 0) (191.1, 18.8, 0) (246.0142, 18.2142, 0) (246.6, 8.4, 0) (124.1, 28.8, 0) (135.0142, 28.2142, 0) (135.6, 23.8, 0) (136.1858, 19.3858, 0) on bodies 1 2
mirror "Mirror1" about plane through (114.6, 5, 85.7675) normal (-1, 0, 0) of bodies 1 2 makes body 3 at (37.6994, 0, 30.8973) makes body 4 at (162.5693, 0, 30.871)
hidden bodies 1 2
equation "margin = 0.8 mm"
equation "clearance = 5 mm"
equation "width = 12.7 mm"
equation "d4 = width + margin"
equation "d5 = 0.5 mm + margin"
equation "d6 = 1 mm + margin"
equation "d7 = clearance"
equation "d8 = 2 mm + margin"
equation "d9 = 4 mm + margin"
equation "d10 = 6.5 mm + margin"
equation "d11 = 8 mm + margin"
equation "d12 = 16 mm + margin"
equation "d13 = 18 mm + margin"
equation "d14 = 32 mm + margin"
equation "d15 = 25 mm + margin"
equation "d16 = 50 mm + margin"
equation "height = 101.5 mm"
equation "d20 = height * 1.1"
equation "lip = 2 * margin"
equation "d24 = lip"
equation "d25 = lip"
equation "d26 = lip"
equation "d27 = lip"
equation "d28 = lip"
equation "d29 = lip"
equation "d30 = lip"
equation "d31 = lip"
equation "d32 = lip"
equation "d33 = lip"
equation "d34 = lip"
equation "d36 = height * 0.76"
equation "d60 = d61"
equation "d63 = lip"
equation "d64 = lip"
